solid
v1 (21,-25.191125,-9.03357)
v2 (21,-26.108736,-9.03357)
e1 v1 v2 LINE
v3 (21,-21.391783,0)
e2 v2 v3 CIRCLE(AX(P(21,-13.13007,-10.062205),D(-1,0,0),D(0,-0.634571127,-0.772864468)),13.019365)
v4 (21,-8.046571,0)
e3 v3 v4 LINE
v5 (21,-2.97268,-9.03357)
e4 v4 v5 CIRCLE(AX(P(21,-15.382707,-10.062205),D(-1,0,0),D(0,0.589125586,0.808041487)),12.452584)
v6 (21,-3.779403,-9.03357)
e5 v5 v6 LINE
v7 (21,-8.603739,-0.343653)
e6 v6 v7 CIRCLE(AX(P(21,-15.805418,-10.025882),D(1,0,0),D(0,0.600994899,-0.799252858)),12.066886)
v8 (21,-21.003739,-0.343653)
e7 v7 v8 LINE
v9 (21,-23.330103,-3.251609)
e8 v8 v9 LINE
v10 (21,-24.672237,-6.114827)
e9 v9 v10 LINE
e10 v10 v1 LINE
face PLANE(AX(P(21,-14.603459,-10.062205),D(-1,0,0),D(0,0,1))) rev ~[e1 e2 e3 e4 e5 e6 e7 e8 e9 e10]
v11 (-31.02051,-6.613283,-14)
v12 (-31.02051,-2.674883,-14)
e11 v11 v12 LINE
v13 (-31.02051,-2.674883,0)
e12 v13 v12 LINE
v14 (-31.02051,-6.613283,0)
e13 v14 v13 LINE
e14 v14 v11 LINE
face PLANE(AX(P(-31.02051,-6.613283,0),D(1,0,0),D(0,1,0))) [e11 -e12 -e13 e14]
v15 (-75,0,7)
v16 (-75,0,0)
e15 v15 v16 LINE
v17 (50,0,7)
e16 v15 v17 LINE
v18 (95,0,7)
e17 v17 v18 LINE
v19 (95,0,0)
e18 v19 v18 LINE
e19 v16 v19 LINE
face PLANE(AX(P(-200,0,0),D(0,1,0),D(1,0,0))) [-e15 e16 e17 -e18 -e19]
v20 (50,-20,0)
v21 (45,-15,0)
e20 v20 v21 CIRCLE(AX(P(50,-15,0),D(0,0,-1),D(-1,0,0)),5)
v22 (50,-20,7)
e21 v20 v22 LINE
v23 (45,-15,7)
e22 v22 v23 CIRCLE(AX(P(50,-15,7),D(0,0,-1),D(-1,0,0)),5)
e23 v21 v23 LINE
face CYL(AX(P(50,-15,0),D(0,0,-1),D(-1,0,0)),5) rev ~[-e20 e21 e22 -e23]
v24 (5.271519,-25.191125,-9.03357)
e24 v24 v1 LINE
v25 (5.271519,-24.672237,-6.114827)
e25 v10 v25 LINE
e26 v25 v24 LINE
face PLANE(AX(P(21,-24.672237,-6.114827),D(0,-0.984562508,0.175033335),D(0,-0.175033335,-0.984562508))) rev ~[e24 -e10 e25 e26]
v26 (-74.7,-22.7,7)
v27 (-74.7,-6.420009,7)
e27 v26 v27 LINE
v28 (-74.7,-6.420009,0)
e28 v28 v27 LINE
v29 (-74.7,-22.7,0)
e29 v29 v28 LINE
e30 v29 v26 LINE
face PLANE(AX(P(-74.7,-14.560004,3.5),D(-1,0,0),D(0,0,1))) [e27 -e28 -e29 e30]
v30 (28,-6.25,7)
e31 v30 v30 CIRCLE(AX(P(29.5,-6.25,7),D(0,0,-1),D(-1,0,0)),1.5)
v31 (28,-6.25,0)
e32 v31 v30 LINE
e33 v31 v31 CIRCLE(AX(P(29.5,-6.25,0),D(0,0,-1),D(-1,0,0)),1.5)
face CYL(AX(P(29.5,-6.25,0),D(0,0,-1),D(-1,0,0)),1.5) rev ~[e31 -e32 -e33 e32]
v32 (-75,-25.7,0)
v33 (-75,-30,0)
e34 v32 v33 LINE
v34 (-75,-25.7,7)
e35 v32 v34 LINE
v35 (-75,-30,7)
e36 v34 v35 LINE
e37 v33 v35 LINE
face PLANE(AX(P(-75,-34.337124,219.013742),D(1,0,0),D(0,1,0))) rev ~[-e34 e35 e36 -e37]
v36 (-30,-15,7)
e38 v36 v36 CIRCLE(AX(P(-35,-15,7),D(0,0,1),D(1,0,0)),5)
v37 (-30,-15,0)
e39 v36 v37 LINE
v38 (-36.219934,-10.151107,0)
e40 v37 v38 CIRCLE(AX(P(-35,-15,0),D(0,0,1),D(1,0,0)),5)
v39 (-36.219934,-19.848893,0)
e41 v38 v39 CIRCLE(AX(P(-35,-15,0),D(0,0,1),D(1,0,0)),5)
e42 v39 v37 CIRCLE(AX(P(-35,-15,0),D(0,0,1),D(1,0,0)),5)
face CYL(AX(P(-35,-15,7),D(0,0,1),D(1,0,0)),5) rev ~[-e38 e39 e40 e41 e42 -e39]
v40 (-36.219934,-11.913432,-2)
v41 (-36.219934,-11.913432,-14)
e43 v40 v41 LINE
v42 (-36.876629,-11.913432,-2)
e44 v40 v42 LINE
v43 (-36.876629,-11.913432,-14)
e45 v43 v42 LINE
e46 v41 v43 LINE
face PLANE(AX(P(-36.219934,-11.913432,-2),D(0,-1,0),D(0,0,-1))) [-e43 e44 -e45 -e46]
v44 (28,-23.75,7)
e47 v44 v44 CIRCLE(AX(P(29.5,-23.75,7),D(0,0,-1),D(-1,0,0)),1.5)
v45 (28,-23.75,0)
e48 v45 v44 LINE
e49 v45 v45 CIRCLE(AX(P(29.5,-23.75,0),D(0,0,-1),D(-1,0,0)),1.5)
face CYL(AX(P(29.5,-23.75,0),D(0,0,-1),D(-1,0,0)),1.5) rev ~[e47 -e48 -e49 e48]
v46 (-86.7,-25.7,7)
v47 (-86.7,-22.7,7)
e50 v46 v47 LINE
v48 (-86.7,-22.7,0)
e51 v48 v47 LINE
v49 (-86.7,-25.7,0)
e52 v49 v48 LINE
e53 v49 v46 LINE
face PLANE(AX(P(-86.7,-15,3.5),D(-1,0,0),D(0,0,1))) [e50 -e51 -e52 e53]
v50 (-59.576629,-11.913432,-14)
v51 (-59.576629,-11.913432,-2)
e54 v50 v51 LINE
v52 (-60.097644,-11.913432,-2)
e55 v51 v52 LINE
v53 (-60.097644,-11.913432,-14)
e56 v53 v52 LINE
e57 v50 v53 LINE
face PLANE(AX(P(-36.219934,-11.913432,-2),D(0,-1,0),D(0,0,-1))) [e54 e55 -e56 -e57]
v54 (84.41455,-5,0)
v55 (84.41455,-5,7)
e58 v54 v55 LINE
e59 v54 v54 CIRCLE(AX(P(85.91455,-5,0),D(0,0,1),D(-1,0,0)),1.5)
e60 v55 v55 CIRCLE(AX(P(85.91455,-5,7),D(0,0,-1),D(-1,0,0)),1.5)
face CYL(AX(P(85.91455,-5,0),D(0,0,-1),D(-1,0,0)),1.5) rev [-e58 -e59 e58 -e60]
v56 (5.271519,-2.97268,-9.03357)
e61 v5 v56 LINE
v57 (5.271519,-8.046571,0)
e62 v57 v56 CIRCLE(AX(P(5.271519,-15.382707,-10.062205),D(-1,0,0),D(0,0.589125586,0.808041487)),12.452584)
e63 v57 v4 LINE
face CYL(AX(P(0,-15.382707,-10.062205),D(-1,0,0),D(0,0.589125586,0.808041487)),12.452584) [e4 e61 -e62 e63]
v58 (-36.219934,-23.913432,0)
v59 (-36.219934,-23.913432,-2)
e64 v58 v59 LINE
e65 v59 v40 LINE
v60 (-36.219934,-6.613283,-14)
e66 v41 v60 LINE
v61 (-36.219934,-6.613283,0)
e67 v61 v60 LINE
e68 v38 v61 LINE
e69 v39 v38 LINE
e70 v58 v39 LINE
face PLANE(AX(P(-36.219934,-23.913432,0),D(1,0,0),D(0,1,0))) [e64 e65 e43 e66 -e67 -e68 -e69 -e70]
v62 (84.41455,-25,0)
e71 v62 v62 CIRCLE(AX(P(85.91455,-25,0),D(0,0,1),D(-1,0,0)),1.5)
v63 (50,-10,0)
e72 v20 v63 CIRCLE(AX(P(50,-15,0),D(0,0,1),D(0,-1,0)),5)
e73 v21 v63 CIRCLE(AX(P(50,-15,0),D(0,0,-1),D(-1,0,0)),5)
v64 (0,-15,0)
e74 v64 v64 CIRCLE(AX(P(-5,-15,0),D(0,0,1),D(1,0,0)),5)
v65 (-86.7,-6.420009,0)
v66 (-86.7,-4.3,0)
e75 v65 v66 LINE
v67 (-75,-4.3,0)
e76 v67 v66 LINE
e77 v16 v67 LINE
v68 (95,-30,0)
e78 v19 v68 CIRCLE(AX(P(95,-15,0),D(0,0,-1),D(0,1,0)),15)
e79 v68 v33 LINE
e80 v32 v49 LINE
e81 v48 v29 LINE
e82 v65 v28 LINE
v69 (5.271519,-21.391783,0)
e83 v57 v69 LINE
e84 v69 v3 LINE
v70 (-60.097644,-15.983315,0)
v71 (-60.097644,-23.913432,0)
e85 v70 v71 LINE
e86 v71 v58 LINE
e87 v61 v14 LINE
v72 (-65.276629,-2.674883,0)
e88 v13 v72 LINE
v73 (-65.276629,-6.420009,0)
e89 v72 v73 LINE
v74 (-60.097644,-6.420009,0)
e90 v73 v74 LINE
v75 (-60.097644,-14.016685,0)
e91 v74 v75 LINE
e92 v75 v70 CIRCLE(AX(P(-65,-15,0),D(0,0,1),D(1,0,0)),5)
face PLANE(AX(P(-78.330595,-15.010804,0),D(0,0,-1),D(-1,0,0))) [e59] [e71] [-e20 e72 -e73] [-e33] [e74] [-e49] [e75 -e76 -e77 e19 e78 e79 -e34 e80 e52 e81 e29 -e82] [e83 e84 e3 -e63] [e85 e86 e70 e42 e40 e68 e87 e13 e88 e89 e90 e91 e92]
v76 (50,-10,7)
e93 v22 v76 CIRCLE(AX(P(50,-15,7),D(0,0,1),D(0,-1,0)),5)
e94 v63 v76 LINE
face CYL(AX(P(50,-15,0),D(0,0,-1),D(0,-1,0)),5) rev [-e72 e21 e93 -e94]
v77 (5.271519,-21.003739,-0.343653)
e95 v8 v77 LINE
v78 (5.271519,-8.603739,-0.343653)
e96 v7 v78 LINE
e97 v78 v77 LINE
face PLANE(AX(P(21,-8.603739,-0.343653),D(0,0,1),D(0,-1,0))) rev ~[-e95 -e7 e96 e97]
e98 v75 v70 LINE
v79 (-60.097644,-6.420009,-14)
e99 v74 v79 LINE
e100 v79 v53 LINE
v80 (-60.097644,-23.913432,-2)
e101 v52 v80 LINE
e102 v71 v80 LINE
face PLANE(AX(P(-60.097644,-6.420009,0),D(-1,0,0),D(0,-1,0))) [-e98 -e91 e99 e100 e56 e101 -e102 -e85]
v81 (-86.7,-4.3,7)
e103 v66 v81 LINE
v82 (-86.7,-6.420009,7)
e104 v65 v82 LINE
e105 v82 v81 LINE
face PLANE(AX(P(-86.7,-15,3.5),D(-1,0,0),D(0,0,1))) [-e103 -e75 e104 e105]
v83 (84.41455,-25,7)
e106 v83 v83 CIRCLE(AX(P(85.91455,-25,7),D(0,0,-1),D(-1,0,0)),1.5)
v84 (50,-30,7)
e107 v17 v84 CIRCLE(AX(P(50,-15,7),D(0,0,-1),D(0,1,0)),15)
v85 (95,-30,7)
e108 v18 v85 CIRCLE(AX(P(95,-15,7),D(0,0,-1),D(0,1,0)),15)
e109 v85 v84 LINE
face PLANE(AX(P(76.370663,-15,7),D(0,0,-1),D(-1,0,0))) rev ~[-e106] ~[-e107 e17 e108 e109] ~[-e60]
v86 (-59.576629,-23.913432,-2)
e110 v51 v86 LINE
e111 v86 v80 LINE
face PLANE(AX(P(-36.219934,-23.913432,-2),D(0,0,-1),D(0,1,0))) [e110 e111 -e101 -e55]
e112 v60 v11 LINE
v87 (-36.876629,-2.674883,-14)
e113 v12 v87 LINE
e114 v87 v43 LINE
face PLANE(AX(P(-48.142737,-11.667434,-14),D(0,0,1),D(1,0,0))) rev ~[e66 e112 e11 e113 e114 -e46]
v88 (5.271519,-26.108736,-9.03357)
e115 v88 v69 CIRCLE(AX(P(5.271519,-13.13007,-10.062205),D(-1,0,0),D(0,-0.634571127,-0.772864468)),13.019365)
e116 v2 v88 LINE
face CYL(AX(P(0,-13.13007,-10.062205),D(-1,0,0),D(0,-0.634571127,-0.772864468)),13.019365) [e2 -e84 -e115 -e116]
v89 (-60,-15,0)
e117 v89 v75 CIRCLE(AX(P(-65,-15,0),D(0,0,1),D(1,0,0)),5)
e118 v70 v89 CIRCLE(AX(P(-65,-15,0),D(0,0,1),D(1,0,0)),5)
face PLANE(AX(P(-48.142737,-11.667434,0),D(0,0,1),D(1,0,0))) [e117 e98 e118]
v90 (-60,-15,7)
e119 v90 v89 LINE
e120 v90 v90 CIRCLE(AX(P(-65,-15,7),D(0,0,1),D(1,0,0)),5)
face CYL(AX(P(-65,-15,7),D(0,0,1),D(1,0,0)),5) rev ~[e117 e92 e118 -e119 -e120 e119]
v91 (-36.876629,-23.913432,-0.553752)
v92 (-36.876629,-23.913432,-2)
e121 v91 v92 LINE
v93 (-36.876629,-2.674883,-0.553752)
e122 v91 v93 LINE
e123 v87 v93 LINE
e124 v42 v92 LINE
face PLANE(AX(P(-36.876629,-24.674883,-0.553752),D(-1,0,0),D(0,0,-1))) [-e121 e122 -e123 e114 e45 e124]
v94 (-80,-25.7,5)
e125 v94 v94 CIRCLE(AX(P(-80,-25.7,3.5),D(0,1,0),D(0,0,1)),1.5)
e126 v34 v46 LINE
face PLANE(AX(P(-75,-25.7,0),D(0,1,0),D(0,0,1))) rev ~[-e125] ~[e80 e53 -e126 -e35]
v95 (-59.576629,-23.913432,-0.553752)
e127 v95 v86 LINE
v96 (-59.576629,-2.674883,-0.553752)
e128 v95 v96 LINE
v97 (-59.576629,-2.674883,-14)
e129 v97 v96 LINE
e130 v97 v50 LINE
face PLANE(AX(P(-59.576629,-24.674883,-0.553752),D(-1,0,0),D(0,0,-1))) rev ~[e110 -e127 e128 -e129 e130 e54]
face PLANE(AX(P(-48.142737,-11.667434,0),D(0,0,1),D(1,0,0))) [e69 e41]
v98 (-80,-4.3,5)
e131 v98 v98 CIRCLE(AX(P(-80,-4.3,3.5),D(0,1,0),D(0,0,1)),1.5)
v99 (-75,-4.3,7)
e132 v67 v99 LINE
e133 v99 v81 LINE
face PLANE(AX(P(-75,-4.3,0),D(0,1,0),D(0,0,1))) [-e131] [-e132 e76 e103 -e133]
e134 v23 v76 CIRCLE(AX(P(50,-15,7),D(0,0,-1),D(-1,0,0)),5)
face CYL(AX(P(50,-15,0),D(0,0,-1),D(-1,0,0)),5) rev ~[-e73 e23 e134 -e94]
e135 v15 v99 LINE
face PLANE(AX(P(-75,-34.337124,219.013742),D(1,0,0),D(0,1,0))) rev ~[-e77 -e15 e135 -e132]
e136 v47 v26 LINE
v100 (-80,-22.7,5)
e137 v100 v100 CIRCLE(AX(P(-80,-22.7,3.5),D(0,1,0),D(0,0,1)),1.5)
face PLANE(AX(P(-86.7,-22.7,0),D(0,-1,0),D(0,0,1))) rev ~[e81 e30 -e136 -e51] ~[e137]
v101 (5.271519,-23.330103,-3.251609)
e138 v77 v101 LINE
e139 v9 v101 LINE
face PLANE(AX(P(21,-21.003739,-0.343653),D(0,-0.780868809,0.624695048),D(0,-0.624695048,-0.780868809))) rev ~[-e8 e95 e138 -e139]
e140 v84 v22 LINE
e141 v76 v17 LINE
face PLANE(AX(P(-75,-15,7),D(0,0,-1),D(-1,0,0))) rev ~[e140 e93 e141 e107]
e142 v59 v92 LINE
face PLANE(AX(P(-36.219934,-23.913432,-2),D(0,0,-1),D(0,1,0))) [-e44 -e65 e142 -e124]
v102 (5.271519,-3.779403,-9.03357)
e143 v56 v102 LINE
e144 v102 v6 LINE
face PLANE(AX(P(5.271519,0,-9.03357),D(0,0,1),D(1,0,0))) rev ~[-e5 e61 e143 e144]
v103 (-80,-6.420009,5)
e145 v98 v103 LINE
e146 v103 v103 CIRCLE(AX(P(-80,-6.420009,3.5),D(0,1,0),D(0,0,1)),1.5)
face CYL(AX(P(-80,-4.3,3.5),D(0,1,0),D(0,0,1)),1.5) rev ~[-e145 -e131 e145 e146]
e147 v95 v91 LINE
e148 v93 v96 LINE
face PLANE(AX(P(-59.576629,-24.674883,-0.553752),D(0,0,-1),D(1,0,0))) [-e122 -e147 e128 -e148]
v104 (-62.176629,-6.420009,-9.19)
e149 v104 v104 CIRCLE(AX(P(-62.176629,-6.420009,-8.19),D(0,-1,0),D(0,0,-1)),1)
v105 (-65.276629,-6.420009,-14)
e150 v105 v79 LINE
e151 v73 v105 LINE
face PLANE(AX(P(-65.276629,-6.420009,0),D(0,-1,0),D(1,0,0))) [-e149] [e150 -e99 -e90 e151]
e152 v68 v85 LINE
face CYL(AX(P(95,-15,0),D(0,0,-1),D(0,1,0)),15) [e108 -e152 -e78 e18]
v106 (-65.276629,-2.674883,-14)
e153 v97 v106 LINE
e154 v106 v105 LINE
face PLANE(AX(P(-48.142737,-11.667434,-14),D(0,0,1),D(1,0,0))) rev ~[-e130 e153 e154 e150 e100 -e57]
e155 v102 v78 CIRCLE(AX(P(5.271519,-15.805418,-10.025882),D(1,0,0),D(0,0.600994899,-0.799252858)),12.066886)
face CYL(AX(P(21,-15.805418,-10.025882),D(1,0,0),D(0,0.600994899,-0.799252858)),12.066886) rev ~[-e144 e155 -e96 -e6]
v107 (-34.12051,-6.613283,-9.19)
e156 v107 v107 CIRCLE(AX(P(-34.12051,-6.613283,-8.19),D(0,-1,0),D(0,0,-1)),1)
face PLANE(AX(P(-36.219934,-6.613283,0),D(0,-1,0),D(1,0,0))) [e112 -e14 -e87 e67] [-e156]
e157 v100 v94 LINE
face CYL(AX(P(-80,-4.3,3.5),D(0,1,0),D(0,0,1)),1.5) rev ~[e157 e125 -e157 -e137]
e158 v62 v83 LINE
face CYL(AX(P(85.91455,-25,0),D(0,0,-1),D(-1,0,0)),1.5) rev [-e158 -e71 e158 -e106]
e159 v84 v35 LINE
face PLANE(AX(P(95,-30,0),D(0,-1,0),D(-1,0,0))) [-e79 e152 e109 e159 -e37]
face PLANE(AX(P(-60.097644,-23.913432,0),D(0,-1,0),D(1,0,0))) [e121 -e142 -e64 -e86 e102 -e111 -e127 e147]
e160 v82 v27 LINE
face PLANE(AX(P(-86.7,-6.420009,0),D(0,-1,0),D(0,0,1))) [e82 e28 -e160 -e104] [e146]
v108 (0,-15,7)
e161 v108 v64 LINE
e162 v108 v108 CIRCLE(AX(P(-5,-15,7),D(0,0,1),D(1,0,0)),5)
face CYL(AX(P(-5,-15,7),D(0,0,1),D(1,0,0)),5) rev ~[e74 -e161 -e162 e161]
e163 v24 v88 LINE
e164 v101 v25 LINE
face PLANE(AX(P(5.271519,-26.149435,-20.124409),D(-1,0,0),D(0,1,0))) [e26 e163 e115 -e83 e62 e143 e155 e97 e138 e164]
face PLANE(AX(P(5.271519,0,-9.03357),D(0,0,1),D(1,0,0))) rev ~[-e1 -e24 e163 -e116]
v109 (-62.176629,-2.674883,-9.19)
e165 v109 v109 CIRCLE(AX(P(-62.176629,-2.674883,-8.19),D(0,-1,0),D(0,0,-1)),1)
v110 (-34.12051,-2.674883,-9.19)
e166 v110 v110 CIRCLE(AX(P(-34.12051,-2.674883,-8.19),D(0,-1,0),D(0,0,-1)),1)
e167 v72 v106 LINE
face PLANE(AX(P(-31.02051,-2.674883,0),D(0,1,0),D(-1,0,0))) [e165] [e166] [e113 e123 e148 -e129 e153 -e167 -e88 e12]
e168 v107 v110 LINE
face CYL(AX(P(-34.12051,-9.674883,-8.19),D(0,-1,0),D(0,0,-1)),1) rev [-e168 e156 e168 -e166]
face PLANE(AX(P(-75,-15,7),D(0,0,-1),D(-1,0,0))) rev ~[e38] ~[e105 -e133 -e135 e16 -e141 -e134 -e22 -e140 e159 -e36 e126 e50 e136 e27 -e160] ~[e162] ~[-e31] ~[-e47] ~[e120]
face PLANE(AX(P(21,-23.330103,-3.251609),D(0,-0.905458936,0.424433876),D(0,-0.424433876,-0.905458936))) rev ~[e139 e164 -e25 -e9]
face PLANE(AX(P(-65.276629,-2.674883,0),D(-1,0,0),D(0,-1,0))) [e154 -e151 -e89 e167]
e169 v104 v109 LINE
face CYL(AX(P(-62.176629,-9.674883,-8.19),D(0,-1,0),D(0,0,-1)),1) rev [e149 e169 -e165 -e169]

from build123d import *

# Parameters (mm, degrees)
BOSS_EXTRUDE1_DEPTH      = 7
SKETCH2_R                = 5
CUT_EXTRUDE1_DEPTH       = 7
LPATTERN1_COUNT          = 7
LPATTERN1_PITCH          = 30
SKETCH6_R                = 5
CUT_EXTRUDE2_DEPTH       = 10
BOSS_EXTRUDE2_DEPTH      = 21
CUT_EXTRUDE3_DEPTH       = 21
CUT_EXTRUDE4_REACH       = 220.014
SKETCH9_R                = 1.5
CUT_EXTRUDE5_REACH       = 220.771
SKETCH10_W               = 5.271518542
SKETCH10_H               = 23.219312301
BOSS_EXTRUDE3_DEPTH      = 14
CUT_EXTRUDE6_DEPTH       = 1
CUT_EXTRUDE6_DEPTH_BACK  = 22
SKETCH12_W               = 22.7
SKETCH12_H               = 14.642587258
SKETCH12_H_2             = 12.3
CUT_EXTRUDE7_DEPTH       = 7
CUT_EXTRUDE7_DEPTH_BACK  = 7
SKETCH13_R               = 1
CUT_EXTRUDE8_REACH       = 184.393
SKETCH14_W               = 12
SKETCH14_H               = 12
CUT_EXTRUDE11_DEPTH      = 219.013742346
CUT_EXTRUDE11_DEPTH_BACK = 219.013742346
SKETCH16_W               = 140
SKETCH16_H               = 37.19308959
SKETCH17_W               = 7
SKETCH17_H               = 21.4
BOSS_EXTRUDE4_DEPTH      = 11.7
CUT_EXTRUDE12_REACH      = 94.641
SKETCH18_R               = 1.5
CUT_EXTRUDE13_REACH      = 95.925
SKETCH20_W               = 15.728481458
SKETCH20_H               = 11.090838969
SKETCH21_W               = 7
SKETCH21_H               = 16.279991403
CUT_EXTRUDE14_DEPTH      = 12
BOSS_EXTRUDE5_DEPTH      = 7
CUT_EXTRUDE15_DEPTH      = 116.935326799
CUT_EXTRUDE15_DEPTH_BACK = 7
SKETCH23_R               = 1.5


with BuildPart() as part:
    # Sketch1 → Boss-Extrude1 (new body)
    with BuildSketch(Plane.XY):
        with BuildLine():
            Line((-200, 0), (50, 0))
            ThreePointArc((50, 0), (65, -15), (50, -30))
            Line((50, -30), (-200, -30))
            ThreePointArc((-200, -30), (-215, -15), (-200, 0))
        make_face()
    extrude(amount=BOSS_EXTRUDE1_DEPTH)

    # Sketch2 → Cut-Extrude1 (cut)
    with BuildSketch(Plane.XY.offset(7)):
        with Locations((-185, -15)):
            Circle(SKETCH2_R)
    cut_extrude1 = extrude(amount=-CUT_EXTRUDE1_DEPTH, mode=Mode.SUBTRACT)

    # LPattern1: Cut-Extrude1 ×7
    with Locations(*[(i * LPATTERN1_PITCH, 0, 0) for i in range(1, LPATTERN1_COUNT)]):
        add(cut_extrude1, mode=Mode.SUBTRACT)

    # Sketch6 → Cut-Extrude2 (cut)
    with BuildSketch(Plane(origin=(0, 0, 0), x_dir=(-1, 0, 0), z_dir=(0, 0, -1))):
        with Locations((-50, -15)):
            Circle(SKETCH6_R)
    extrude(amount=-CUT_EXTRUDE2_DEPTH, mode=Mode.SUBTRACT)

    # Sketch7 → Boss-Extrude2 (add)
    with BuildSketch(Plane(origin=(0, 0, 0), x_dir=(0, 0, -1), z_dir=(1, 0, 0))):
        with BuildLine():
            Line((20.124409349, -8.046570755), (20.124409349, -21.391782887))
            ThreePointArc((20.124409349, -21.391782887), (10.062204675, -26.149434806), (0, -21.391782887))
            Line((0, -21.391782887), (0, -8.046570755))
            ThreePointArc((0, -8.046570755), (10.062204675, -2.930122505), (20.124409349, -8.046570755))
        make_face()
    extrude(amount=BOSS_EXTRUDE2_DEPTH)

    # Sketch8 → Cut-Extrude3 (cut)
    with BuildSketch(Plane(origin=(21, 0, 0), x_dir=(0, 0, -1), z_dir=(1, 0, 0))):
        with BuildLine():
            Line((0.343653188, -8.603738845), (0.343653188, -21.003738845))
            Line((0.343653188, -21.003738845), (3.251608919, -23.33010343))
            Line((3.251608919, -23.33010343), (6.11482687, -24.672236845))
            Line((6.11482687, -24.672236845), (10.141227113, -25.388041332))
            Line((10.141227113, -25.388041332), (14.122889575, -24.672236845))
            Line((14.122889575, -24.672236845), (17.165058648, -23.33010343))
            Line((17.165058648, -23.33010343), (19.670374355, -20.953281344))
            Line((19.670374355, -20.953281344), (19.670374355, -8.553281344))
            ThreePointArc((19.670374355, -8.553281344), (9.994377841, -3.738573545), (0.343653188, -8.603738845))
        make_face()
    extrude(amount=-CUT_EXTRUDE3_DEPTH, mode=Mode.SUBTRACT)

    # Sketch9 → Cut-Extrude4 (cut, up to next)
    with BuildSketch(Plane(origin=(0, 0, 0), x_dir=(-1, 0, 0), z_dir=(0, 0, -1)), mode=Mode.PRIVATE) as cut_extrude4_sk1:
        with Locations((-29.5, -6.25)):
            Circle(SKETCH9_R)
    cut_extrude4_tool1 = extrude(cut_extrude4_sk1.sketch, amount=-CUT_EXTRUDE4_REACH, mode=Mode.PRIVATE) & part.part
    # Sketch9 → Cut-Extrude4 (cut, up to next)
    with BuildSketch(Plane(origin=(0, 0, 0), x_dir=(-1, 0, 0), z_dir=(0, 0, -1)), mode=Mode.PRIVATE) as cut_extrude4_sk2:
        with Locations((-29.5, -23.75)):
            Circle(SKETCH9_R)
    cut_extrude4_tool2 = extrude(cut_extrude4_sk2.sketch, amount=-CUT_EXTRUDE4_REACH, mode=Mode.PRIVATE) & part.part
    add(cut_extrude4_tool1.solids().sort_by_distance((29.5, -6.25, 0))[0], mode=Mode.SUBTRACT)
    add(cut_extrude4_tool2.solids().sort_by_distance((29.5, -23.75, 0))[0], mode=Mode.SUBTRACT)

    # Cut-Extrude5: up to this face of the body (flat: up to its plane)
    cut_extrude5_end = Plane(part.part.faces().sort_by_distance((-78.33059512, -15.01080435, 0))[0])
    # Sketch10 → Cut-Extrude5 (cut, up to the picked face)
    with BuildSketch(Plane(origin=(0, 0, -20.124409349), x_dir=(-1, 0, 0), z_dir=(0, 0, -1)), mode=Mode.PRIVATE) as cut_extrude5_sk1:
        with Locations((-2.635759271, -14.539778656)):
            Rectangle(SKETCH10_W, SKETCH10_H)
    cut_extrude5_tool1 = split(extrude(cut_extrude5_sk1.sketch, amount=-CUT_EXTRUDE5_REACH, mode=Mode.PRIVATE), bisect_by=cut_extrude5_end, keep=Keep.BOTH, mode=Mode.PRIVATE)
    add(cut_extrude5_tool1.solids().sort_by(Axis((2.635759, -14.539779, -20.124409), (0, 0, 1)))[0], mode=Mode.SUBTRACT)

    # Sketch11 → Boss-Extrude3 (add)
    with BuildSketch(Plane(origin=(0, 0, 0), x_dir=(-1, 0, 0), z_dir=(0, 0, -1))):
        Polygon((60.097644306, -6.420008597), (60.097644306, -23.913431972), (36.21993437, -23.913431972), (36.21993437, -6.613282571), (31.020509523, -6.613282571), (31.020509523, -2.674883318), (65.276628567, -2.674883318), (65.276628567, -6.420008597), align=None)
        Polygon((193.975354243, -6.285954501), (193.975354243, -16.540829221), (170.097644306, -16.540829221), (170.097644306, -6.479228475), (164.898219459, -6.479228475), (164.898219459, -2.540829221), (199.154338504, -2.540829221), (199.154338504, -6.285954501), align=None)
    extrude(amount=BOSS_EXTRUDE3_DEPTH)

    # Sketch12 → Cut-Extrude6 (cut, two sides: drawn at the far end of the back side and taken through both)
    with BuildSketch(Plane(origin=(0, -2.674883318, 0), x_dir=(1, 0, 0), z_dir=(0, 1, 0)).offset(-CUT_EXTRUDE6_DEPTH_BACK)):
        with Locations((-48.226628567, 7.87504546)):
            Rectangle(SKETCH12_W, SKETCH12_H)
        with Locations((-182.104338504, 6.42306456)):
            Rectangle(SKETCH12_W, SKETCH12_H_2)
    extrude(amount=CUT_EXTRUDE6_DEPTH + CUT_EXTRUDE6_DEPTH_BACK, mode=Mode.SUBTRACT)

    # Sketch13 → Cut-Extrude7 (cut, two sides: drawn at the far end of the back side and taken through both)
    with BuildSketch(Plane(origin=(0, -2.674883318, 0), x_dir=(1, 0, 0), z_dir=(0, 1, 0)).offset(-CUT_EXTRUDE7_DEPTH_BACK)):
        with Locations(Location((-167.998219459, 8.19, 0), (0, 0, 90))):
            Circle(SKETCH13_R)
        with Locations(Location((-196.054338504, 8.19, 0), (0, 0, 90))):
            Circle(SKETCH13_R)
        with Locations(Location((-62.176628567, 8.19, 0), (0, 0, 90))):
            Circle(SKETCH13_R)
        with Locations(Location((-34.120509523, 8.19, 0), (0, 0, 90))):
            Circle(SKETCH13_R)
    extrude(amount=CUT_EXTRUDE7_DEPTH + CUT_EXTRUDE7_DEPTH_BACK, mode=Mode.SUBTRACT)

    # Cut-Extrude8: up to this face of the body (flat: up to its plane)
    cut_extrude8_end = Plane(part.part.faces().sort_by_distance((-193.975354243, -11.413391861, -7))[0])
    # Sketch14 → Cut-Extrude8 (cut, up to the picked face)
    with BuildSketch(Plane(origin=(-36.21993437, 0, 0), x_dir=(0, 0, -1), z_dir=(1, 0, 0)), mode=Mode.PRIVATE) as cut_extrude8_sk1:
        with Locations((8, -17.913431972)):
            Rectangle(SKETCH14_W, SKETCH14_H)
    cut_extrude8_tool1 = split(extrude(cut_extrude8_sk1.sketch, amount=-CUT_EXTRUDE8_REACH, mode=Mode.PRIVATE), bisect_by=cut_extrude8_end, keep=Keep.BOTH, mode=Mode.PRIVATE)
    add(cut_extrude8_tool1.solids().sort_by(Axis((-36.219934, -17.913432, -8), (-1, 0, 0)))[0], mode=Mode.SUBTRACT)

    # Sketch16 → Cut-Extrude11 (cut, two sides: drawn at the far end of the back side and taken through both)
    with BuildSketch(Plane(origin=(0, 0, 0), x_dir=(-1, 0, 0), z_dir=(0, 0, -1)).offset(-CUT_EXTRUDE11_DEPTH_BACK)):
        with Locations((145, -15.740579032)):
            Rectangle(SKETCH16_W, SKETCH16_H)
    extrude(amount=CUT_EXTRUDE11_DEPTH + CUT_EXTRUDE11_DEPTH_BACK, mode=Mode.SUBTRACT)

    # Sketch17 → Boss-Extrude4 (add)
    with BuildSketch(Plane.ZY.offset(75)):
        with Locations((3.5, -15)):
            Rectangle(SKETCH17_W, SKETCH17_H)
    extrude(amount=BOSS_EXTRUDE4_DEPTH)

    # Sketch18 → Cut-Extrude12 (cut, up to next)
    with BuildSketch(Plane(origin=(0, -4.3, 0), x_dir=(1, 0, 0), z_dir=(0, 1, 0)), mode=Mode.PRIVATE) as cut_extrude12_sk1:
        with Locations(Location((-80, -3.5, 0), (0, 0, 270))):
            Circle(SKETCH18_R)
    cut_extrude12_tool1 = extrude(cut_extrude12_sk1.sketch, amount=-CUT_EXTRUDE12_REACH, mode=Mode.PRIVATE) & part.part
    add(cut_extrude12_tool1.solids().sort_by_distance((-80, -4.3, 3.5))[0], mode=Mode.SUBTRACT)

    # Sketch20 → Cut-Extrude13 (cut, up to next)
    with BuildSketch(Plane(origin=(0, 0, 0), x_dir=(1, 0, 0), z_dir=(0, 1, 0)), mode=Mode.PRIVATE) as cut_extrude13_sk1:
        with Locations((13.135759271, 14.578989865)):
            Rectangle(SKETCH20_W, SKETCH20_H)
    cut_extrude13_tool1 = extrude(cut_extrude13_sk1.sketch, amount=-CUT_EXTRUDE13_REACH, mode=Mode.PRIVATE) & part.part
    add(cut_extrude13_tool1.solids().sort_by_distance((13.135759, 0, -14.57899))[0], mode=Mode.SUBTRACT)

    # Sketch21 → Cut-Extrude14 (cut)
    with BuildSketch(Plane.ZY.offset(86.7)):
        with Locations((3.5, -14.560004299)):
            Rectangle(SKETCH21_W, SKETCH21_H)
    extrude(amount=-CUT_EXTRUDE14_DEPTH, mode=Mode.SUBTRACT)

    # Sketch22 → Boss-Extrude5 (add)
    with BuildSketch(Plane(origin=(0, 0, 0), x_dir=(-1, 0, 0), z_dir=(0, 0, -1))):
        with BuildLine():
            ThreePointArc((-50, -20), (-55, -15), (-50, -10))
            Line((-50, -10), (-50, 0))
            Line((-50, 0), (-95, 0))
            ThreePointArc((-95, 0), (-110, -15), (-95, -30))
            Line((-95, -30), (-50, -30))
            Line((-50, -30), (-50, -20))
        make_face()
    extrude(amount=-BOSS_EXTRUDE5_DEPTH)

    # Sketch23 → Cut-Extrude15 (cut, two sides: drawn at the far end of the back side and taken through both)
    with BuildSketch(Plane.XY.offset(7).offset(-CUT_EXTRUDE15_DEPTH_BACK)):
        with Locations(Location((85.914550285, -25, 0), (0, 0, 180))):
            Circle(SKETCH23_R)
        with Locations(Location((85.914550285, -5, 0), (0, 0, 180))):
            Circle(SKETCH23_R)
    extrude(amount=CUT_EXTRUDE15_DEPTH + CUT_EXTRUDE15_DEPTH_BACK, mode=Mode.SUBTRACT)


solid = part.part
